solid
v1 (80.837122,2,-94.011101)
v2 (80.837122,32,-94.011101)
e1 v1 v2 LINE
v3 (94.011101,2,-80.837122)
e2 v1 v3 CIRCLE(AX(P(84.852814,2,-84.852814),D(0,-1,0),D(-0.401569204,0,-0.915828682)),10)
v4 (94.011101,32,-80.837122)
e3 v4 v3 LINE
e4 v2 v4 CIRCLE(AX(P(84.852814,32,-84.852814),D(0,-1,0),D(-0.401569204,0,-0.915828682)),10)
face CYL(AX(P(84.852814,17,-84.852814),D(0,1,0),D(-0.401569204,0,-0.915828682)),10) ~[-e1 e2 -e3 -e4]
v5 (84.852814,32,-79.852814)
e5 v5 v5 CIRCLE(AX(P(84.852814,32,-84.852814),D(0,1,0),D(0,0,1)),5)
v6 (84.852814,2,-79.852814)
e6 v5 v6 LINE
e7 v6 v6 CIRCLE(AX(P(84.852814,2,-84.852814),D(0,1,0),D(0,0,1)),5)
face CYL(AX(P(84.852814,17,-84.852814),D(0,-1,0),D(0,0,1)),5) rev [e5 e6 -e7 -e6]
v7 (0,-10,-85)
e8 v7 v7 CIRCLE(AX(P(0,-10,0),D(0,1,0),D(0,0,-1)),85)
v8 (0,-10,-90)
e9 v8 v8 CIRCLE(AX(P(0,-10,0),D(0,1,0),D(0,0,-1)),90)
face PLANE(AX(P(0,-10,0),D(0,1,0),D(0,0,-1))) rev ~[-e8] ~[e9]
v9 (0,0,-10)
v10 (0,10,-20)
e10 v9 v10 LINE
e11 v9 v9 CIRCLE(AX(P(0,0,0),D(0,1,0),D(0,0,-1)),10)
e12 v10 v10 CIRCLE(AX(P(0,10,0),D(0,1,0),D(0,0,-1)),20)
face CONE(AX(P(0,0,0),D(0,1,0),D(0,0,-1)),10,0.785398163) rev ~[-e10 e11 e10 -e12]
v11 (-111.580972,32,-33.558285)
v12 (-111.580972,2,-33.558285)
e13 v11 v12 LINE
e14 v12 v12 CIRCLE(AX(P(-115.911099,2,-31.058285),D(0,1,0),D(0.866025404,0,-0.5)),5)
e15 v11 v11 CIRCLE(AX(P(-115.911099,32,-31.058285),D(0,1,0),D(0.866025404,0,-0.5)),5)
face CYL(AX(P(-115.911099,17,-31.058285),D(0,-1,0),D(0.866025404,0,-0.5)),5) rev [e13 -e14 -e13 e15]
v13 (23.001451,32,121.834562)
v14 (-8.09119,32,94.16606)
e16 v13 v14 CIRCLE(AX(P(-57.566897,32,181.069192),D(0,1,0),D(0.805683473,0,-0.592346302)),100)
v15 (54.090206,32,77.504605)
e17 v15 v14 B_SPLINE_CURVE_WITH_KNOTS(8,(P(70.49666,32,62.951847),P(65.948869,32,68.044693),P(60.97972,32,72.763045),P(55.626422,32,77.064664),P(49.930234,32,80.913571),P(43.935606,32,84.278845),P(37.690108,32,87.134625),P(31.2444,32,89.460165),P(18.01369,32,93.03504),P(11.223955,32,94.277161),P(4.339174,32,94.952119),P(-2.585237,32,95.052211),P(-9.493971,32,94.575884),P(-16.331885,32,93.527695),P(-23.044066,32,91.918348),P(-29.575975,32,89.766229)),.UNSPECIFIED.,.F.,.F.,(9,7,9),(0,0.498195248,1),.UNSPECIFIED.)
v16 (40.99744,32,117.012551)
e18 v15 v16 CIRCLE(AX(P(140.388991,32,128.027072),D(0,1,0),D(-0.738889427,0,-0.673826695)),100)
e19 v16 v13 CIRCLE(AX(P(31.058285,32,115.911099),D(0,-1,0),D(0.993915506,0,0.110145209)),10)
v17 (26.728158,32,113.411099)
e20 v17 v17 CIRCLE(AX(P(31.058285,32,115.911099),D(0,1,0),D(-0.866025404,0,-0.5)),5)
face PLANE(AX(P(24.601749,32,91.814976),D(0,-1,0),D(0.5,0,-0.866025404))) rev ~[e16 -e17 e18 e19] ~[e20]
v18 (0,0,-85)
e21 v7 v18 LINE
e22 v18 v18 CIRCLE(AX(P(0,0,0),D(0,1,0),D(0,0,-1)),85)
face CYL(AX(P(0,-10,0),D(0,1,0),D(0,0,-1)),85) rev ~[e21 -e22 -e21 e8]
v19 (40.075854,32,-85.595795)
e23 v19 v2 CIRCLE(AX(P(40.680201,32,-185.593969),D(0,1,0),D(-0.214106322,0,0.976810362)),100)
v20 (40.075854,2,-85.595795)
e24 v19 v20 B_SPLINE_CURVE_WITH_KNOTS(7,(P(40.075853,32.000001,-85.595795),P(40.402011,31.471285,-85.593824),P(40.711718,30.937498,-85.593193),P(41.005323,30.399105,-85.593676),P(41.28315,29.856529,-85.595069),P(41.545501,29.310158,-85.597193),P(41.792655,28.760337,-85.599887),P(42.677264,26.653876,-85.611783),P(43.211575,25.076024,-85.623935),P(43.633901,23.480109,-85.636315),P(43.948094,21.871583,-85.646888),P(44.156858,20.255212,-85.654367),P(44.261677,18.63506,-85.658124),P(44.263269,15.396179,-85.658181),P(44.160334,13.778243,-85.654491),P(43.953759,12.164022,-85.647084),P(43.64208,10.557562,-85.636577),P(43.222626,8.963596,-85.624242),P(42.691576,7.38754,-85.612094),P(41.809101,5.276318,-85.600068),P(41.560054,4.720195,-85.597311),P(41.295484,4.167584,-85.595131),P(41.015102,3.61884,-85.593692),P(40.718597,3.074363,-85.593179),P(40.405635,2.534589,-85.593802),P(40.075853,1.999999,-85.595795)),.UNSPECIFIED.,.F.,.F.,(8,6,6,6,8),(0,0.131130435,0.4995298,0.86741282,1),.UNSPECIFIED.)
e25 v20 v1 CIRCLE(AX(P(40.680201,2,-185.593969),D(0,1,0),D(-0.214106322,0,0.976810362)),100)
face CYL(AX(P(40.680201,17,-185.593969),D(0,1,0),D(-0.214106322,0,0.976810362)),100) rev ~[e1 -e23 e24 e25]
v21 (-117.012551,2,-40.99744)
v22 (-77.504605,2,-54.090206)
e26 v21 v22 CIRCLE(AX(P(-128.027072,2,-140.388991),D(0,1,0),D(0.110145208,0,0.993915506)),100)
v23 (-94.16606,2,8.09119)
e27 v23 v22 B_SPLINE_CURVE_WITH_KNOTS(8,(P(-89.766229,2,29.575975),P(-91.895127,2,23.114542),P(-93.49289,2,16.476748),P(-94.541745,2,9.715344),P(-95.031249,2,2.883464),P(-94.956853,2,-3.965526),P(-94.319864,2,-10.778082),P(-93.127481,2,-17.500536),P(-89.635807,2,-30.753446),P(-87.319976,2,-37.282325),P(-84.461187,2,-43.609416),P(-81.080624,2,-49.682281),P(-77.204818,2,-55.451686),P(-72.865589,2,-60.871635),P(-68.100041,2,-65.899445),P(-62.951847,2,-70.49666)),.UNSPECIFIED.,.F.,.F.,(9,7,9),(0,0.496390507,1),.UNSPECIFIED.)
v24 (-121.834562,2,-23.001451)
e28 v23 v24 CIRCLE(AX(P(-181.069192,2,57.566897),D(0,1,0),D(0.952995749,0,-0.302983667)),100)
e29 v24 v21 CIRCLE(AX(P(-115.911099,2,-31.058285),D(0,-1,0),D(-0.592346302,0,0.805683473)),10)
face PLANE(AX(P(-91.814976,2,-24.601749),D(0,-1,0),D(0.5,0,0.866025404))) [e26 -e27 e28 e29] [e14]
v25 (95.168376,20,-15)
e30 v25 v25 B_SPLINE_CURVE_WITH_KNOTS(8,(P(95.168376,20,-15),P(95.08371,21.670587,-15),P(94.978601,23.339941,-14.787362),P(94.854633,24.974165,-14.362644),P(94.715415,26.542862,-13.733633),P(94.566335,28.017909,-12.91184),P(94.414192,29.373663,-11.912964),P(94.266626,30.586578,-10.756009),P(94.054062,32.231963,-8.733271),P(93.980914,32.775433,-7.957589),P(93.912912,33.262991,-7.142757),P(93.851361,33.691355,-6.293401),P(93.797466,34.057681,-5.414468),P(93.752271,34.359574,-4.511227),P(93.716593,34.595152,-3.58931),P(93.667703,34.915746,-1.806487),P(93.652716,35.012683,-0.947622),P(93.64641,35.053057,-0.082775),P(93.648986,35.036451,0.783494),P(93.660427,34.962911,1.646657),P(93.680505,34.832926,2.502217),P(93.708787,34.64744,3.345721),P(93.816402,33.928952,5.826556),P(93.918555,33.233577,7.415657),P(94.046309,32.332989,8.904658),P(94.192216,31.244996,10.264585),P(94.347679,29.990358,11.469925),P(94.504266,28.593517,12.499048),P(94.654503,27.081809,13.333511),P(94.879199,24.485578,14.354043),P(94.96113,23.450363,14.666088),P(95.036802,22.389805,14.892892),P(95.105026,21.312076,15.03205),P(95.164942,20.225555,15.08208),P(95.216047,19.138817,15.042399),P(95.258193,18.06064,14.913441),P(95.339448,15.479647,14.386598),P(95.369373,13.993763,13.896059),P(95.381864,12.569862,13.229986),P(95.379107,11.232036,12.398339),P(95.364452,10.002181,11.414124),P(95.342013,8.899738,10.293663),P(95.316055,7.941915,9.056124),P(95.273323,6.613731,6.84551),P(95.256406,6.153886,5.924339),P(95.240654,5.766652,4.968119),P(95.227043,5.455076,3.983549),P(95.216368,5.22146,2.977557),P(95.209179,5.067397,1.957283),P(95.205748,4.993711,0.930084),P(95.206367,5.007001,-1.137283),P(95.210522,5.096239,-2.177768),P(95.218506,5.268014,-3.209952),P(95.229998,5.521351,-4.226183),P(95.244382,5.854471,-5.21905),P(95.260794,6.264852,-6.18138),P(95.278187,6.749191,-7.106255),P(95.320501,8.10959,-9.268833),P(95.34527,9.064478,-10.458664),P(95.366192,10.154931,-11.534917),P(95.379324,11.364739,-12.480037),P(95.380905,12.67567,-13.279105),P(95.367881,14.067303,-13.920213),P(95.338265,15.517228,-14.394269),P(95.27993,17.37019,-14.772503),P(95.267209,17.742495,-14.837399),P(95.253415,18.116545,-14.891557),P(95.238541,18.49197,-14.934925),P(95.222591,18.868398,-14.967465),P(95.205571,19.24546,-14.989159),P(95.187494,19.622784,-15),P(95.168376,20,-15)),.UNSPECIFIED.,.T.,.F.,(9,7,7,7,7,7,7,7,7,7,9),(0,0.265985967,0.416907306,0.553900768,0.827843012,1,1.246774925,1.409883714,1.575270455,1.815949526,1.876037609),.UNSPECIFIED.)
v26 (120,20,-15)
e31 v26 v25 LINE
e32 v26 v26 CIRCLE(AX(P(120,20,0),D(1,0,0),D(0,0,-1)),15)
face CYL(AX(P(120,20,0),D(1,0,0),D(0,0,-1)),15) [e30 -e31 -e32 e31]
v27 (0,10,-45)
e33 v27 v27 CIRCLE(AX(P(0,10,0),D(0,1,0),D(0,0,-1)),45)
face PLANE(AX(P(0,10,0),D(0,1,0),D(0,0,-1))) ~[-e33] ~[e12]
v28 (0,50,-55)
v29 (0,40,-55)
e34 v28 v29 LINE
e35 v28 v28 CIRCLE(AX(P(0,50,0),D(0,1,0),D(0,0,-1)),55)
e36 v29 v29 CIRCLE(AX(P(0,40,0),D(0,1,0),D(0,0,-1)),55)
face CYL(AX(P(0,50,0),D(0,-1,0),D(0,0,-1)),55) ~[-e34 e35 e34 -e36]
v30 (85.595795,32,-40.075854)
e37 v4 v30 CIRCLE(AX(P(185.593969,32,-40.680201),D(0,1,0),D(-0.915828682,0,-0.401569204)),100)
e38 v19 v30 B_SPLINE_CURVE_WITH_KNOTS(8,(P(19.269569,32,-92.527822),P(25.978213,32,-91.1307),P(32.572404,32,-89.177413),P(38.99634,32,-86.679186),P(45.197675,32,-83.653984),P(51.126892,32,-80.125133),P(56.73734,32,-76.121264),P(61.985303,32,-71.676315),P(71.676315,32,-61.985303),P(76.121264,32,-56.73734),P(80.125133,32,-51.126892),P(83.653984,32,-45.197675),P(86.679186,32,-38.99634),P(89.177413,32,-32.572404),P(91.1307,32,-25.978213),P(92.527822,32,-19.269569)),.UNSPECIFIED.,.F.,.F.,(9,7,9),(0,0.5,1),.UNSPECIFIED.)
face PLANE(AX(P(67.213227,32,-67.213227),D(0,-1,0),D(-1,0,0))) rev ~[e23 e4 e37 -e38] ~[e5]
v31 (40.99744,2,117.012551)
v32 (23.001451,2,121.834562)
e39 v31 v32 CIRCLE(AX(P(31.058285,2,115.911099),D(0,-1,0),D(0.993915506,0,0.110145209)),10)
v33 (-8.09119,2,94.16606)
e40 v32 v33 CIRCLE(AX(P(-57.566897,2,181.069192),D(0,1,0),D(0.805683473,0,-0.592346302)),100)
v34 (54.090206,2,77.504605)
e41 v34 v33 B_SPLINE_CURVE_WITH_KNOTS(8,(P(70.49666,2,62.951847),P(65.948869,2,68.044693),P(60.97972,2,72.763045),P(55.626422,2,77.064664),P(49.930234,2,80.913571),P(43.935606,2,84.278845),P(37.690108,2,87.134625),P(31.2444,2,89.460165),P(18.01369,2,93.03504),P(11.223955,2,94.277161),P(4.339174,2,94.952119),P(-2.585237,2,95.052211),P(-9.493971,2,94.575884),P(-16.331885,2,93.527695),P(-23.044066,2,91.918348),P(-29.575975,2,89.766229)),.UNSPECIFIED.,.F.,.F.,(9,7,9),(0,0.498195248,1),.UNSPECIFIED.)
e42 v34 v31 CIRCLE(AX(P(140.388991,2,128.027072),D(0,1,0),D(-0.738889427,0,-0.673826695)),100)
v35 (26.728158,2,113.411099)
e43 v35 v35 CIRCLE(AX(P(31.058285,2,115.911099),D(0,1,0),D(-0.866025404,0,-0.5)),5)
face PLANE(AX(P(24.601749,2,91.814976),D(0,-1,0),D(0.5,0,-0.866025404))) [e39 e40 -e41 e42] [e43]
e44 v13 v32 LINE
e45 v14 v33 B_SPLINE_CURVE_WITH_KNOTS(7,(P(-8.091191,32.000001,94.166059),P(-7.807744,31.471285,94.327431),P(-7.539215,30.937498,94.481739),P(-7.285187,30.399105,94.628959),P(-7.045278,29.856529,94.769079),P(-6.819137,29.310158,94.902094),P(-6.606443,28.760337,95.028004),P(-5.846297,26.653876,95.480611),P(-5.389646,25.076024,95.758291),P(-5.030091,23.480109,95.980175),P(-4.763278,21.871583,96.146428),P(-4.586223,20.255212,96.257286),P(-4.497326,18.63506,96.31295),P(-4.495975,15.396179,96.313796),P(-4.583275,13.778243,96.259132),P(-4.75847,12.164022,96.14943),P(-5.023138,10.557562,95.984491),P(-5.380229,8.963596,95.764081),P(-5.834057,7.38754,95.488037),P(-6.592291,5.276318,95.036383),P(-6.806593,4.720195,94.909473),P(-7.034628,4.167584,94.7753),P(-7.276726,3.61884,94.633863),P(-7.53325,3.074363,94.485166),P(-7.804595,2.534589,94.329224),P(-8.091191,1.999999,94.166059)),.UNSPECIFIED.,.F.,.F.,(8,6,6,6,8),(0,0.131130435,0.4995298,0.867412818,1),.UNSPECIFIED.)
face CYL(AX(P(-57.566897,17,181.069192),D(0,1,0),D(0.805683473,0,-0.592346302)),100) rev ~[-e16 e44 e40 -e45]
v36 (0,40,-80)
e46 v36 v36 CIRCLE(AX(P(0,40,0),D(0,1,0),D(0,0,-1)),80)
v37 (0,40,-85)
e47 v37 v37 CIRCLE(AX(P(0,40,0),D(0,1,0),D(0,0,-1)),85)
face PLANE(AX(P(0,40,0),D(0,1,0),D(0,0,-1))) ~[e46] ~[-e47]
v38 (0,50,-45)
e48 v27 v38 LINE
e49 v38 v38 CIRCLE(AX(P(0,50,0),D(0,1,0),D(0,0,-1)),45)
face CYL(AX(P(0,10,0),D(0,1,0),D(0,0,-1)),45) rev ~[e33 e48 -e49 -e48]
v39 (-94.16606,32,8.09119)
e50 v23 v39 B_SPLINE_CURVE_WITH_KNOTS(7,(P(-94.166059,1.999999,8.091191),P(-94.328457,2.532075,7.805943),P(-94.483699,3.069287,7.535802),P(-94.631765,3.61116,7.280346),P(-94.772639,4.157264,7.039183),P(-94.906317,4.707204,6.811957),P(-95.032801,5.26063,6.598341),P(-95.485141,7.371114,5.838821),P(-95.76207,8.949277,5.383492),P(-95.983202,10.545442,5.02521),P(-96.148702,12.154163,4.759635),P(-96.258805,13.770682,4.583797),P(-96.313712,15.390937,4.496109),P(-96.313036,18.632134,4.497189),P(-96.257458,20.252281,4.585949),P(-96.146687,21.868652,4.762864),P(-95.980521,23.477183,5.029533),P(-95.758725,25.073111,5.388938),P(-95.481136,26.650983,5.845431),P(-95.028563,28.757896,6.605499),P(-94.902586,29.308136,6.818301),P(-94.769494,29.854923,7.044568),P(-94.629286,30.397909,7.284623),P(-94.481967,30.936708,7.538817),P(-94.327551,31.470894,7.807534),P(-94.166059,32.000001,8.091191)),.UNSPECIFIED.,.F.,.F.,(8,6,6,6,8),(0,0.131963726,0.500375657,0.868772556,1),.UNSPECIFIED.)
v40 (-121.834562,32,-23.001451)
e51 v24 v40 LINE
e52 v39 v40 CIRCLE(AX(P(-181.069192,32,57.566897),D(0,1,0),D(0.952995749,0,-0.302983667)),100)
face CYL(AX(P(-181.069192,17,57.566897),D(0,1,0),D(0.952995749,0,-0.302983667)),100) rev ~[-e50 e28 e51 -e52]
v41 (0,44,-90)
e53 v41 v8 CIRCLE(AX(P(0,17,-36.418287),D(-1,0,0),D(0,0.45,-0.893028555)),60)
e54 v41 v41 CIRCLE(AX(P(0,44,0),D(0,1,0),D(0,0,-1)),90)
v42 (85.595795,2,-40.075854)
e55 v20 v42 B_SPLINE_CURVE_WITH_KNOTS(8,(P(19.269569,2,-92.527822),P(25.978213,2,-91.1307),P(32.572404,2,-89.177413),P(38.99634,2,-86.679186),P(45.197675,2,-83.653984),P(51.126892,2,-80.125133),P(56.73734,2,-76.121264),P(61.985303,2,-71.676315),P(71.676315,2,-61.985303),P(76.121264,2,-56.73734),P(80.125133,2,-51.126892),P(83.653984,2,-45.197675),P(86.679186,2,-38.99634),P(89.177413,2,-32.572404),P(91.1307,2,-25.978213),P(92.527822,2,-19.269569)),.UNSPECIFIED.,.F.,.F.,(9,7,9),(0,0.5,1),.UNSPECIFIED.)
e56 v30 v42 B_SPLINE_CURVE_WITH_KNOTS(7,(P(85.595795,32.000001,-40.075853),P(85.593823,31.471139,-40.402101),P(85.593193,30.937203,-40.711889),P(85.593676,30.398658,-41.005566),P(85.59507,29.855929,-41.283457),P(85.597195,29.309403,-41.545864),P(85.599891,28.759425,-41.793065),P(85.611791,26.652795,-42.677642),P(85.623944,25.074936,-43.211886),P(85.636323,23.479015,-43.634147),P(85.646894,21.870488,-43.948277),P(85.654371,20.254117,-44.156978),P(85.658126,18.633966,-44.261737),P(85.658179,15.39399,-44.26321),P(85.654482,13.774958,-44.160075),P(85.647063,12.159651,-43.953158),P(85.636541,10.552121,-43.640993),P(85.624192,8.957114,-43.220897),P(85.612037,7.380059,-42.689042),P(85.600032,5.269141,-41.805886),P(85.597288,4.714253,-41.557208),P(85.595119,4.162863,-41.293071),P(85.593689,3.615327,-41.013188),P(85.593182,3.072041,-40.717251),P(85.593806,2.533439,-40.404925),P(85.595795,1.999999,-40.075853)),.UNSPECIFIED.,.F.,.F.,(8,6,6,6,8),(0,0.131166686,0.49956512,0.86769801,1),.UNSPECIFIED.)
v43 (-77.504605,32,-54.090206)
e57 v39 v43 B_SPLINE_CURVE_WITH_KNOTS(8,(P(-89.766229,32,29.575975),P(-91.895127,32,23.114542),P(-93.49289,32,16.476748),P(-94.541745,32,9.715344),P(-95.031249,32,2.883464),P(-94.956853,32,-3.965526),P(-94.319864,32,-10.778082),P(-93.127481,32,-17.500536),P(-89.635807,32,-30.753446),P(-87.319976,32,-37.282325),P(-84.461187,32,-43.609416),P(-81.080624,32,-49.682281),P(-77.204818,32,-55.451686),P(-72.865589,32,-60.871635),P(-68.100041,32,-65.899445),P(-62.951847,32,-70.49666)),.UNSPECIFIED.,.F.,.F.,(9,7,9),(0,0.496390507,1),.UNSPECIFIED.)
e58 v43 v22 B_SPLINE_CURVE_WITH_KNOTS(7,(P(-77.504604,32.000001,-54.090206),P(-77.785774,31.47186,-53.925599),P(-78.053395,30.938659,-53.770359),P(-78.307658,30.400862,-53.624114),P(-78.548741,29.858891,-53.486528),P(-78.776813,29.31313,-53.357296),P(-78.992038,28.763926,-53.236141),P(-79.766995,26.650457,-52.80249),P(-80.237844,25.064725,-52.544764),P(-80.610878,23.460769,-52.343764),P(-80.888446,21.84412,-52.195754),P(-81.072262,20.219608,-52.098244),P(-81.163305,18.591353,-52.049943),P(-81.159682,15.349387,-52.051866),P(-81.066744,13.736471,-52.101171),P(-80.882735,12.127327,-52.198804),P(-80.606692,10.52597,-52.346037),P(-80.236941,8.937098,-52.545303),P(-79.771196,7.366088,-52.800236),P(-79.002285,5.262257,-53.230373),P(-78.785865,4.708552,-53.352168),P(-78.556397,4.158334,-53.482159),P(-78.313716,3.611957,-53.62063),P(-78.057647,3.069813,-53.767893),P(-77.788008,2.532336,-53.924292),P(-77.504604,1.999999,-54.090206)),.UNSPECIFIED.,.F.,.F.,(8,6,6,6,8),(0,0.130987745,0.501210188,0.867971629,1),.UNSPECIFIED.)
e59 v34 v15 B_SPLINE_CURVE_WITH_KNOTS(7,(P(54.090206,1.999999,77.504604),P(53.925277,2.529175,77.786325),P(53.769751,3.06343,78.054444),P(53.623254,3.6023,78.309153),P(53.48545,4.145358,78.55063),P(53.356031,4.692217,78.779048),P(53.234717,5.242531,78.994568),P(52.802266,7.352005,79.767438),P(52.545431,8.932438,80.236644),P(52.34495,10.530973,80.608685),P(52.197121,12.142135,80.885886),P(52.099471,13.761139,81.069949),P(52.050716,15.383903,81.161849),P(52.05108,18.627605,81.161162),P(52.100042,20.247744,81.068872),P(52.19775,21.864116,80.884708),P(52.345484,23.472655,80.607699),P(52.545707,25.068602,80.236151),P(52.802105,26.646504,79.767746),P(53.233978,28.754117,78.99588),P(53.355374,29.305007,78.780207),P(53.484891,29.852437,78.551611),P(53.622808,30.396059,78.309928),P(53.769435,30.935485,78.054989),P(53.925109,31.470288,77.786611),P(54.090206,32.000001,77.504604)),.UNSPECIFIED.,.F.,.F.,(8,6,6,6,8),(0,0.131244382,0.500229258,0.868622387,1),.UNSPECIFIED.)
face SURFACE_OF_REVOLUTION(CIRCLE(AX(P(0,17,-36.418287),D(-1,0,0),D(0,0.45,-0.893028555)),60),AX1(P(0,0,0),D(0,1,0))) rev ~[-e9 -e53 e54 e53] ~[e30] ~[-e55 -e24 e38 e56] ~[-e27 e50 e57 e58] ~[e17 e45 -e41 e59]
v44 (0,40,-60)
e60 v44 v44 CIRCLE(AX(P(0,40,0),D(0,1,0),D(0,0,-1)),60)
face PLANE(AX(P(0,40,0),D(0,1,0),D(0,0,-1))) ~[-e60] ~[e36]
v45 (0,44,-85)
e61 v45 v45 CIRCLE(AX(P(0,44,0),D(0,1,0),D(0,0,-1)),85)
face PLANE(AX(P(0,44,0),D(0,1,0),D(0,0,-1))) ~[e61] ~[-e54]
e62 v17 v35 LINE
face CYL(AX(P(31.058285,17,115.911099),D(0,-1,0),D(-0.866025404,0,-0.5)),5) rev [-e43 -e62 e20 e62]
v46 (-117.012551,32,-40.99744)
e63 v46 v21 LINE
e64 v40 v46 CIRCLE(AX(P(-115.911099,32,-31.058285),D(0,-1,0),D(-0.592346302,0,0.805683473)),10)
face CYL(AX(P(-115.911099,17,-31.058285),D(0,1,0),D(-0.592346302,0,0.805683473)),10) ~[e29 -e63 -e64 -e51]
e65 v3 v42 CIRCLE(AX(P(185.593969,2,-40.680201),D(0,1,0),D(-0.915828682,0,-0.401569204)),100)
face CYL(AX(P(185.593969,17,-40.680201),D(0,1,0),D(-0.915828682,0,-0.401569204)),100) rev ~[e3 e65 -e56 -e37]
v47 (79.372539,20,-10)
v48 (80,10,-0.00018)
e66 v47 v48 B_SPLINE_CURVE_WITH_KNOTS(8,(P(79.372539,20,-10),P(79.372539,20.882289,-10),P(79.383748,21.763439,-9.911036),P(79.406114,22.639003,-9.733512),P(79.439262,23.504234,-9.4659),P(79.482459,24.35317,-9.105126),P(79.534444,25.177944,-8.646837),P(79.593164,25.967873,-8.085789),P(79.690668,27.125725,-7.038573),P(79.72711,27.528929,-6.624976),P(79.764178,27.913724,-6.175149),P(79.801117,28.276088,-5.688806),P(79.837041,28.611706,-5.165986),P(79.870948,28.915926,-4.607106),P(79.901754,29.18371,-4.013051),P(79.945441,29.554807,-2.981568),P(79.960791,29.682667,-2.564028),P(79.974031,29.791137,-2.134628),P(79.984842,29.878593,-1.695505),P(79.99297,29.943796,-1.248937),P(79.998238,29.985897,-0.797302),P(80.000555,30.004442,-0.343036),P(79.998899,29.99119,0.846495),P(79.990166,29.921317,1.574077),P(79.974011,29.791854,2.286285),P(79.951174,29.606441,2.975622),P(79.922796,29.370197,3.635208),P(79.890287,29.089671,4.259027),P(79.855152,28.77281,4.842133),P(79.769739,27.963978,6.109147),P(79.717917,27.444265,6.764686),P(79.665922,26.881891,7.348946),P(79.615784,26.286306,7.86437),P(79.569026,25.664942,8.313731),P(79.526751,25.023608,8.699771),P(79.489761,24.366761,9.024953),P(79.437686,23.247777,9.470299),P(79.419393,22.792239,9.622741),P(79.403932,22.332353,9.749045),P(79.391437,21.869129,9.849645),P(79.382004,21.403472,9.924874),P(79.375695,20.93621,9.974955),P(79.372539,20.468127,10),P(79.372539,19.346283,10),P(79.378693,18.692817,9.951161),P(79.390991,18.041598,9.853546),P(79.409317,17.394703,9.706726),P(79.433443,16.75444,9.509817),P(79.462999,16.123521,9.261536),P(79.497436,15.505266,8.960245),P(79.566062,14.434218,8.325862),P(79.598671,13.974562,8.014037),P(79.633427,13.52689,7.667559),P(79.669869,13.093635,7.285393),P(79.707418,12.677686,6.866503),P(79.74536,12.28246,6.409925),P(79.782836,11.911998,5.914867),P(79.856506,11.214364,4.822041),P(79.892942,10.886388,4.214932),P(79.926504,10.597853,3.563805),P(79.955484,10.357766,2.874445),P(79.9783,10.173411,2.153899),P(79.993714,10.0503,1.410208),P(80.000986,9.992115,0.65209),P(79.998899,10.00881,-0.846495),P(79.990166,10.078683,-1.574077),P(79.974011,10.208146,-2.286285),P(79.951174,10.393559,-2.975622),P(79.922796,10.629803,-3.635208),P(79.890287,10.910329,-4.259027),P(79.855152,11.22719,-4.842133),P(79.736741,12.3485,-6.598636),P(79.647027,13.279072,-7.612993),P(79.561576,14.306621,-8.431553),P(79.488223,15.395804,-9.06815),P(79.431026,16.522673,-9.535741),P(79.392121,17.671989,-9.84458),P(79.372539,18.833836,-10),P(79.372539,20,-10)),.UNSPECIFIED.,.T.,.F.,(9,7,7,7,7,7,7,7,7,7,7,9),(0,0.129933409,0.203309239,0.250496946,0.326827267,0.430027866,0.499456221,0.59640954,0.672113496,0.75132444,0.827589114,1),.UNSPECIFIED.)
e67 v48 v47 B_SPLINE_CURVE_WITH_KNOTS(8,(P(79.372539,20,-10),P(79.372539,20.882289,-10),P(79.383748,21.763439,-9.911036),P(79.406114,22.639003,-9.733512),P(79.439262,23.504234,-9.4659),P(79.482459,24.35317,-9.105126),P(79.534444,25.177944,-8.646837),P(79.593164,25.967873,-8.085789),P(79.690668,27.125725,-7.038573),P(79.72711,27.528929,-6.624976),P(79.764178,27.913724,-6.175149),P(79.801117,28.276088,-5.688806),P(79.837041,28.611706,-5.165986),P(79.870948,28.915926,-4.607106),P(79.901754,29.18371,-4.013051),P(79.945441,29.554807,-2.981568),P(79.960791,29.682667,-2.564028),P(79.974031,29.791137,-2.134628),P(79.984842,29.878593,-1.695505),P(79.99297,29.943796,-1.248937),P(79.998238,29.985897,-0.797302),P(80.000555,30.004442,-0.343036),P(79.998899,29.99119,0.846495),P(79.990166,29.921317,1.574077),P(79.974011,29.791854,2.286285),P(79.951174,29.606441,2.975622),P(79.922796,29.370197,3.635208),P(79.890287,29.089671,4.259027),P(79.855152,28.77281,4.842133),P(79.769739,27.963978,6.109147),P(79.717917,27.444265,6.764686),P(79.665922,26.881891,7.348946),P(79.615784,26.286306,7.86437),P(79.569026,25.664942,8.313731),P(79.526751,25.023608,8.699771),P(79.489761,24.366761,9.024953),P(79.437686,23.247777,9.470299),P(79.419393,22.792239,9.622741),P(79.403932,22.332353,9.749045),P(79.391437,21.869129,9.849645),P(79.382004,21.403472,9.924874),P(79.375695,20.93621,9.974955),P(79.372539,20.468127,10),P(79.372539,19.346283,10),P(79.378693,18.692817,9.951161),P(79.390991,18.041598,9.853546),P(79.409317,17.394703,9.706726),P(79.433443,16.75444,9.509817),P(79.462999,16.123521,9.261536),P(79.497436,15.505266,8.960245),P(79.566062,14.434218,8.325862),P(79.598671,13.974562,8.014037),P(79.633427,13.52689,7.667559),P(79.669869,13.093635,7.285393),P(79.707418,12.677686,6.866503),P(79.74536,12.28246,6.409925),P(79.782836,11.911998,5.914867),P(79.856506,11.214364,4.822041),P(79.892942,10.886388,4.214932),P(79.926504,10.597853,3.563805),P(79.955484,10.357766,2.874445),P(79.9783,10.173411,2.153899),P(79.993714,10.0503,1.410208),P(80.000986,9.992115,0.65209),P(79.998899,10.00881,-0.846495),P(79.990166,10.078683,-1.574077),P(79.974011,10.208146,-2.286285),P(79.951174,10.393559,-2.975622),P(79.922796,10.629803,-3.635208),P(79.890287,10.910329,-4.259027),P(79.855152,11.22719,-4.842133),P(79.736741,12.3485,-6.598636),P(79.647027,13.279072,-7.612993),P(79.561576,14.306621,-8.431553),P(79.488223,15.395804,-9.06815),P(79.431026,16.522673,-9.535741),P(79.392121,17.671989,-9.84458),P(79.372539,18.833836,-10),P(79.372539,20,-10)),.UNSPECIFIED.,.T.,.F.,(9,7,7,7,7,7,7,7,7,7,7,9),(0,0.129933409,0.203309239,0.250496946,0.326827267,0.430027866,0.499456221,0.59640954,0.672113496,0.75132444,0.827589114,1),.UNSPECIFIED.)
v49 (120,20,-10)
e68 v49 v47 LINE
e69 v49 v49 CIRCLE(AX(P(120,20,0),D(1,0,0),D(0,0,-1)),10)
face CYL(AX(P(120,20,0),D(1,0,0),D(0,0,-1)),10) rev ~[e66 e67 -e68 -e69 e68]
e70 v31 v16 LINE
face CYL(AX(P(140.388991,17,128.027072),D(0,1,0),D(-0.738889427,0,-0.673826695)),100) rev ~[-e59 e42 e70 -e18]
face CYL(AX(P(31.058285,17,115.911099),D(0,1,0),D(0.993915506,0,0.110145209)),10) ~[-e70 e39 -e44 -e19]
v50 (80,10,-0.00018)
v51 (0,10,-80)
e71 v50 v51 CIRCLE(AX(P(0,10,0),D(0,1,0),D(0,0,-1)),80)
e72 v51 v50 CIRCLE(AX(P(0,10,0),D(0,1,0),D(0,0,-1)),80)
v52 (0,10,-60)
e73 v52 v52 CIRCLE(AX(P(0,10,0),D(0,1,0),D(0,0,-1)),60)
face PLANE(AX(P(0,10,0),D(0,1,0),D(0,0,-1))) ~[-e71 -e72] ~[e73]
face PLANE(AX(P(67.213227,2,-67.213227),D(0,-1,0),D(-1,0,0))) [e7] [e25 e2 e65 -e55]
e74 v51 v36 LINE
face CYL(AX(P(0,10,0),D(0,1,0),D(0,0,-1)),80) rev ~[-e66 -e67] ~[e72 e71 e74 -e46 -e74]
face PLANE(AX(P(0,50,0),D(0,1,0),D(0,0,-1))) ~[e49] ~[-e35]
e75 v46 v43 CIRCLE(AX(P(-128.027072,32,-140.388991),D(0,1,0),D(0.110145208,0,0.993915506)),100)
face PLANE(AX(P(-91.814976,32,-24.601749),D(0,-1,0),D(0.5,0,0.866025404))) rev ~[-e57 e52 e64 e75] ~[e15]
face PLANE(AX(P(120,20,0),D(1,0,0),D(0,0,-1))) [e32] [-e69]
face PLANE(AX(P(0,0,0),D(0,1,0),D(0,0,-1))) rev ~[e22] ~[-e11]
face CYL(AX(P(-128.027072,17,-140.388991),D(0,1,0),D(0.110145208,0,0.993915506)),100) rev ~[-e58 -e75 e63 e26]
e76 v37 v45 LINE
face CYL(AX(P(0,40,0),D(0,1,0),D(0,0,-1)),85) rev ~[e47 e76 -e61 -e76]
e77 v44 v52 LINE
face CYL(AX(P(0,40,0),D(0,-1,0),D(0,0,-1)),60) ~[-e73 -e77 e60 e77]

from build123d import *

# Parameters (mm, degrees)
SKETCH2_R                      = 5
BOSS_EXTRUDE2_DEPTH            = 15
CIRPATTERN1_COUNT              = 3
BOSS_EXTRUDE3_REACH            = 247.911
BOSS_EXTRUDE3_END_MAJOR_RADIUS = 36.418286702
BOSS_EXTRUDE3_END_MINOR_RADIUS = 60
SKETCH4_R                      = 15
CUT_EXTRUDE1_REACH             = 247.911
CUT_EXTRUDE1_END_RADIUS        = 80
SKETCH5_R                      = 10


with BuildPart() as part:
    # Sketch1 → Revolve1 (revolve)
    with BuildSketch(Plane.XY, mode=Mode.PRIVATE) as revolve1_sk:
        with BuildLine():
            Line((10, 0), (20, 10))
            Line((20, 10), (45, 10))
            Line((45, 10), (45, 50))
            Line((45, 50), (55, 50))
            Line((55, 50), (55, 40))
            Line((55, 40), (60, 40))
            Line((60, 40), (60, 10))
            Line((60, 10), (80, 10))
            Line((80, 10), (80, 40))
            Line((80, 40), (85, 40))
            Line((85, 40), (85, 44))
            Line((85, 44), (90, 44))
            ThreePointArc((90, 44), (96.418286702, 17), (90, -10))
            Line((90, -10), (85, -10))
            Line((85, -10), (85, 0))
            Line((85, 0), (10, 0))
        make_face()
    revolve(revolve1_sk.sketch.rotate(Axis((0, 0, 0), (0, 1, 0)), 90), axis=Axis((0, 0, 0), (0, 1, 0)))  # turned: the seam where the file's is

    # Sketch2 → Boss-Extrude2 (add, symmetric)
    with BuildSketch(Plane(origin=(0, 17, 0), x_dir=(1, 0, 0), z_dir=(0, 1, 0))):
        with BuildLine():
            ThreePointArc((80.837121698, 94.011100559), (91.923881554, 91.923881554), (94.011100559, 80.837121698))
            ThreePointArc((94.011100559, 80.837121698), (86.080918037, 50.53681039), (87.912932552, 19.269569017))
            ThreePointArc((87.912932552, 19.269569017), (63.639610307, 63.639610307), (19.269569017, 87.912932552))
            ThreePointArc((19.269569017, 87.912932552), (50.53681039, 86.080918037), (80.837121698, 94.011100559))
        make_face()
        with Locations(Location((84.852813742, 84.852813742, 0), (0, 0, 270))):  # turned: the seam where the file's is
            Circle(SKETCH2_R, mode=Mode.SUBTRACT)
    boss_extrude2 = extrude(amount=BOSS_EXTRUDE2_DEPTH, both=True)

    # CirPattern1: Boss-Extrude2 ×3 about axis
    cirpattern1_axis = Axis((0, 0, 0), (0, 1, 0))
    for i in range(1, CIRPATTERN1_COUNT):
        add(boss_extrude2.rotate(cirpattern1_axis, i * 360 / CIRPATTERN1_COUNT))

    # Boss-Extrude3: up to this torus (the profile starts outside it)
    boss_extrude3_end = Plane(origin=(0, 17, 0), z_dir=(0, -1, 0)) * Torus(BOSS_EXTRUDE3_END_MAJOR_RADIUS, BOSS_EXTRUDE3_END_MINOR_RADIUS, mode=Mode.PRIVATE)
    # Sketch4 → Boss-Extrude3 (add, up to the surface)
    with BuildSketch(Plane(origin=(120, 0, 0), x_dir=(0, 0, -1), z_dir=(1, 0, 0)), mode=Mode.PRIVATE) as boss_extrude3_sk1:
        with Locations((0, 20)):
            Circle(SKETCH4_R)
    boss_extrude3_tool1 = extrude(boss_extrude3_sk1.sketch, amount=-BOSS_EXTRUDE3_REACH, mode=Mode.PRIVATE) - boss_extrude3_end
    add(boss_extrude3_tool1.solids().sort_by_distance((120, 20, 0))[0])

    # Cut-Extrude1: up to this cylinder (the profile starts outside it)
    cut_extrude1_end = Plane(origin=(0, 20, 0), z_dir=(0, -1, 0)) * Cylinder(CUT_EXTRUDE1_END_RADIUS, 656.822, mode=Mode.PRIVATE)
    # Sketch5 → Cut-Extrude1 (cut, up to the surface)
    with BuildSketch(Plane(origin=(120, 0, 0), x_dir=(0, 0, -1), z_dir=(1, 0, 0)), mode=Mode.PRIVATE) as cut_extrude1_sk1:
        with Locations((0, 20)):
            Circle(SKETCH5_R)
    cut_extrude1_tool1 = extrude(cut_extrude1_sk1.sketch, amount=-CUT_EXTRUDE1_REACH, mode=Mode.PRIVATE) - cut_extrude1_end
    add(cut_extrude1_tool1.solids().sort_by_distance((120, 20, 0))[0], mode=Mode.SUBTRACT)


solid = part.part
